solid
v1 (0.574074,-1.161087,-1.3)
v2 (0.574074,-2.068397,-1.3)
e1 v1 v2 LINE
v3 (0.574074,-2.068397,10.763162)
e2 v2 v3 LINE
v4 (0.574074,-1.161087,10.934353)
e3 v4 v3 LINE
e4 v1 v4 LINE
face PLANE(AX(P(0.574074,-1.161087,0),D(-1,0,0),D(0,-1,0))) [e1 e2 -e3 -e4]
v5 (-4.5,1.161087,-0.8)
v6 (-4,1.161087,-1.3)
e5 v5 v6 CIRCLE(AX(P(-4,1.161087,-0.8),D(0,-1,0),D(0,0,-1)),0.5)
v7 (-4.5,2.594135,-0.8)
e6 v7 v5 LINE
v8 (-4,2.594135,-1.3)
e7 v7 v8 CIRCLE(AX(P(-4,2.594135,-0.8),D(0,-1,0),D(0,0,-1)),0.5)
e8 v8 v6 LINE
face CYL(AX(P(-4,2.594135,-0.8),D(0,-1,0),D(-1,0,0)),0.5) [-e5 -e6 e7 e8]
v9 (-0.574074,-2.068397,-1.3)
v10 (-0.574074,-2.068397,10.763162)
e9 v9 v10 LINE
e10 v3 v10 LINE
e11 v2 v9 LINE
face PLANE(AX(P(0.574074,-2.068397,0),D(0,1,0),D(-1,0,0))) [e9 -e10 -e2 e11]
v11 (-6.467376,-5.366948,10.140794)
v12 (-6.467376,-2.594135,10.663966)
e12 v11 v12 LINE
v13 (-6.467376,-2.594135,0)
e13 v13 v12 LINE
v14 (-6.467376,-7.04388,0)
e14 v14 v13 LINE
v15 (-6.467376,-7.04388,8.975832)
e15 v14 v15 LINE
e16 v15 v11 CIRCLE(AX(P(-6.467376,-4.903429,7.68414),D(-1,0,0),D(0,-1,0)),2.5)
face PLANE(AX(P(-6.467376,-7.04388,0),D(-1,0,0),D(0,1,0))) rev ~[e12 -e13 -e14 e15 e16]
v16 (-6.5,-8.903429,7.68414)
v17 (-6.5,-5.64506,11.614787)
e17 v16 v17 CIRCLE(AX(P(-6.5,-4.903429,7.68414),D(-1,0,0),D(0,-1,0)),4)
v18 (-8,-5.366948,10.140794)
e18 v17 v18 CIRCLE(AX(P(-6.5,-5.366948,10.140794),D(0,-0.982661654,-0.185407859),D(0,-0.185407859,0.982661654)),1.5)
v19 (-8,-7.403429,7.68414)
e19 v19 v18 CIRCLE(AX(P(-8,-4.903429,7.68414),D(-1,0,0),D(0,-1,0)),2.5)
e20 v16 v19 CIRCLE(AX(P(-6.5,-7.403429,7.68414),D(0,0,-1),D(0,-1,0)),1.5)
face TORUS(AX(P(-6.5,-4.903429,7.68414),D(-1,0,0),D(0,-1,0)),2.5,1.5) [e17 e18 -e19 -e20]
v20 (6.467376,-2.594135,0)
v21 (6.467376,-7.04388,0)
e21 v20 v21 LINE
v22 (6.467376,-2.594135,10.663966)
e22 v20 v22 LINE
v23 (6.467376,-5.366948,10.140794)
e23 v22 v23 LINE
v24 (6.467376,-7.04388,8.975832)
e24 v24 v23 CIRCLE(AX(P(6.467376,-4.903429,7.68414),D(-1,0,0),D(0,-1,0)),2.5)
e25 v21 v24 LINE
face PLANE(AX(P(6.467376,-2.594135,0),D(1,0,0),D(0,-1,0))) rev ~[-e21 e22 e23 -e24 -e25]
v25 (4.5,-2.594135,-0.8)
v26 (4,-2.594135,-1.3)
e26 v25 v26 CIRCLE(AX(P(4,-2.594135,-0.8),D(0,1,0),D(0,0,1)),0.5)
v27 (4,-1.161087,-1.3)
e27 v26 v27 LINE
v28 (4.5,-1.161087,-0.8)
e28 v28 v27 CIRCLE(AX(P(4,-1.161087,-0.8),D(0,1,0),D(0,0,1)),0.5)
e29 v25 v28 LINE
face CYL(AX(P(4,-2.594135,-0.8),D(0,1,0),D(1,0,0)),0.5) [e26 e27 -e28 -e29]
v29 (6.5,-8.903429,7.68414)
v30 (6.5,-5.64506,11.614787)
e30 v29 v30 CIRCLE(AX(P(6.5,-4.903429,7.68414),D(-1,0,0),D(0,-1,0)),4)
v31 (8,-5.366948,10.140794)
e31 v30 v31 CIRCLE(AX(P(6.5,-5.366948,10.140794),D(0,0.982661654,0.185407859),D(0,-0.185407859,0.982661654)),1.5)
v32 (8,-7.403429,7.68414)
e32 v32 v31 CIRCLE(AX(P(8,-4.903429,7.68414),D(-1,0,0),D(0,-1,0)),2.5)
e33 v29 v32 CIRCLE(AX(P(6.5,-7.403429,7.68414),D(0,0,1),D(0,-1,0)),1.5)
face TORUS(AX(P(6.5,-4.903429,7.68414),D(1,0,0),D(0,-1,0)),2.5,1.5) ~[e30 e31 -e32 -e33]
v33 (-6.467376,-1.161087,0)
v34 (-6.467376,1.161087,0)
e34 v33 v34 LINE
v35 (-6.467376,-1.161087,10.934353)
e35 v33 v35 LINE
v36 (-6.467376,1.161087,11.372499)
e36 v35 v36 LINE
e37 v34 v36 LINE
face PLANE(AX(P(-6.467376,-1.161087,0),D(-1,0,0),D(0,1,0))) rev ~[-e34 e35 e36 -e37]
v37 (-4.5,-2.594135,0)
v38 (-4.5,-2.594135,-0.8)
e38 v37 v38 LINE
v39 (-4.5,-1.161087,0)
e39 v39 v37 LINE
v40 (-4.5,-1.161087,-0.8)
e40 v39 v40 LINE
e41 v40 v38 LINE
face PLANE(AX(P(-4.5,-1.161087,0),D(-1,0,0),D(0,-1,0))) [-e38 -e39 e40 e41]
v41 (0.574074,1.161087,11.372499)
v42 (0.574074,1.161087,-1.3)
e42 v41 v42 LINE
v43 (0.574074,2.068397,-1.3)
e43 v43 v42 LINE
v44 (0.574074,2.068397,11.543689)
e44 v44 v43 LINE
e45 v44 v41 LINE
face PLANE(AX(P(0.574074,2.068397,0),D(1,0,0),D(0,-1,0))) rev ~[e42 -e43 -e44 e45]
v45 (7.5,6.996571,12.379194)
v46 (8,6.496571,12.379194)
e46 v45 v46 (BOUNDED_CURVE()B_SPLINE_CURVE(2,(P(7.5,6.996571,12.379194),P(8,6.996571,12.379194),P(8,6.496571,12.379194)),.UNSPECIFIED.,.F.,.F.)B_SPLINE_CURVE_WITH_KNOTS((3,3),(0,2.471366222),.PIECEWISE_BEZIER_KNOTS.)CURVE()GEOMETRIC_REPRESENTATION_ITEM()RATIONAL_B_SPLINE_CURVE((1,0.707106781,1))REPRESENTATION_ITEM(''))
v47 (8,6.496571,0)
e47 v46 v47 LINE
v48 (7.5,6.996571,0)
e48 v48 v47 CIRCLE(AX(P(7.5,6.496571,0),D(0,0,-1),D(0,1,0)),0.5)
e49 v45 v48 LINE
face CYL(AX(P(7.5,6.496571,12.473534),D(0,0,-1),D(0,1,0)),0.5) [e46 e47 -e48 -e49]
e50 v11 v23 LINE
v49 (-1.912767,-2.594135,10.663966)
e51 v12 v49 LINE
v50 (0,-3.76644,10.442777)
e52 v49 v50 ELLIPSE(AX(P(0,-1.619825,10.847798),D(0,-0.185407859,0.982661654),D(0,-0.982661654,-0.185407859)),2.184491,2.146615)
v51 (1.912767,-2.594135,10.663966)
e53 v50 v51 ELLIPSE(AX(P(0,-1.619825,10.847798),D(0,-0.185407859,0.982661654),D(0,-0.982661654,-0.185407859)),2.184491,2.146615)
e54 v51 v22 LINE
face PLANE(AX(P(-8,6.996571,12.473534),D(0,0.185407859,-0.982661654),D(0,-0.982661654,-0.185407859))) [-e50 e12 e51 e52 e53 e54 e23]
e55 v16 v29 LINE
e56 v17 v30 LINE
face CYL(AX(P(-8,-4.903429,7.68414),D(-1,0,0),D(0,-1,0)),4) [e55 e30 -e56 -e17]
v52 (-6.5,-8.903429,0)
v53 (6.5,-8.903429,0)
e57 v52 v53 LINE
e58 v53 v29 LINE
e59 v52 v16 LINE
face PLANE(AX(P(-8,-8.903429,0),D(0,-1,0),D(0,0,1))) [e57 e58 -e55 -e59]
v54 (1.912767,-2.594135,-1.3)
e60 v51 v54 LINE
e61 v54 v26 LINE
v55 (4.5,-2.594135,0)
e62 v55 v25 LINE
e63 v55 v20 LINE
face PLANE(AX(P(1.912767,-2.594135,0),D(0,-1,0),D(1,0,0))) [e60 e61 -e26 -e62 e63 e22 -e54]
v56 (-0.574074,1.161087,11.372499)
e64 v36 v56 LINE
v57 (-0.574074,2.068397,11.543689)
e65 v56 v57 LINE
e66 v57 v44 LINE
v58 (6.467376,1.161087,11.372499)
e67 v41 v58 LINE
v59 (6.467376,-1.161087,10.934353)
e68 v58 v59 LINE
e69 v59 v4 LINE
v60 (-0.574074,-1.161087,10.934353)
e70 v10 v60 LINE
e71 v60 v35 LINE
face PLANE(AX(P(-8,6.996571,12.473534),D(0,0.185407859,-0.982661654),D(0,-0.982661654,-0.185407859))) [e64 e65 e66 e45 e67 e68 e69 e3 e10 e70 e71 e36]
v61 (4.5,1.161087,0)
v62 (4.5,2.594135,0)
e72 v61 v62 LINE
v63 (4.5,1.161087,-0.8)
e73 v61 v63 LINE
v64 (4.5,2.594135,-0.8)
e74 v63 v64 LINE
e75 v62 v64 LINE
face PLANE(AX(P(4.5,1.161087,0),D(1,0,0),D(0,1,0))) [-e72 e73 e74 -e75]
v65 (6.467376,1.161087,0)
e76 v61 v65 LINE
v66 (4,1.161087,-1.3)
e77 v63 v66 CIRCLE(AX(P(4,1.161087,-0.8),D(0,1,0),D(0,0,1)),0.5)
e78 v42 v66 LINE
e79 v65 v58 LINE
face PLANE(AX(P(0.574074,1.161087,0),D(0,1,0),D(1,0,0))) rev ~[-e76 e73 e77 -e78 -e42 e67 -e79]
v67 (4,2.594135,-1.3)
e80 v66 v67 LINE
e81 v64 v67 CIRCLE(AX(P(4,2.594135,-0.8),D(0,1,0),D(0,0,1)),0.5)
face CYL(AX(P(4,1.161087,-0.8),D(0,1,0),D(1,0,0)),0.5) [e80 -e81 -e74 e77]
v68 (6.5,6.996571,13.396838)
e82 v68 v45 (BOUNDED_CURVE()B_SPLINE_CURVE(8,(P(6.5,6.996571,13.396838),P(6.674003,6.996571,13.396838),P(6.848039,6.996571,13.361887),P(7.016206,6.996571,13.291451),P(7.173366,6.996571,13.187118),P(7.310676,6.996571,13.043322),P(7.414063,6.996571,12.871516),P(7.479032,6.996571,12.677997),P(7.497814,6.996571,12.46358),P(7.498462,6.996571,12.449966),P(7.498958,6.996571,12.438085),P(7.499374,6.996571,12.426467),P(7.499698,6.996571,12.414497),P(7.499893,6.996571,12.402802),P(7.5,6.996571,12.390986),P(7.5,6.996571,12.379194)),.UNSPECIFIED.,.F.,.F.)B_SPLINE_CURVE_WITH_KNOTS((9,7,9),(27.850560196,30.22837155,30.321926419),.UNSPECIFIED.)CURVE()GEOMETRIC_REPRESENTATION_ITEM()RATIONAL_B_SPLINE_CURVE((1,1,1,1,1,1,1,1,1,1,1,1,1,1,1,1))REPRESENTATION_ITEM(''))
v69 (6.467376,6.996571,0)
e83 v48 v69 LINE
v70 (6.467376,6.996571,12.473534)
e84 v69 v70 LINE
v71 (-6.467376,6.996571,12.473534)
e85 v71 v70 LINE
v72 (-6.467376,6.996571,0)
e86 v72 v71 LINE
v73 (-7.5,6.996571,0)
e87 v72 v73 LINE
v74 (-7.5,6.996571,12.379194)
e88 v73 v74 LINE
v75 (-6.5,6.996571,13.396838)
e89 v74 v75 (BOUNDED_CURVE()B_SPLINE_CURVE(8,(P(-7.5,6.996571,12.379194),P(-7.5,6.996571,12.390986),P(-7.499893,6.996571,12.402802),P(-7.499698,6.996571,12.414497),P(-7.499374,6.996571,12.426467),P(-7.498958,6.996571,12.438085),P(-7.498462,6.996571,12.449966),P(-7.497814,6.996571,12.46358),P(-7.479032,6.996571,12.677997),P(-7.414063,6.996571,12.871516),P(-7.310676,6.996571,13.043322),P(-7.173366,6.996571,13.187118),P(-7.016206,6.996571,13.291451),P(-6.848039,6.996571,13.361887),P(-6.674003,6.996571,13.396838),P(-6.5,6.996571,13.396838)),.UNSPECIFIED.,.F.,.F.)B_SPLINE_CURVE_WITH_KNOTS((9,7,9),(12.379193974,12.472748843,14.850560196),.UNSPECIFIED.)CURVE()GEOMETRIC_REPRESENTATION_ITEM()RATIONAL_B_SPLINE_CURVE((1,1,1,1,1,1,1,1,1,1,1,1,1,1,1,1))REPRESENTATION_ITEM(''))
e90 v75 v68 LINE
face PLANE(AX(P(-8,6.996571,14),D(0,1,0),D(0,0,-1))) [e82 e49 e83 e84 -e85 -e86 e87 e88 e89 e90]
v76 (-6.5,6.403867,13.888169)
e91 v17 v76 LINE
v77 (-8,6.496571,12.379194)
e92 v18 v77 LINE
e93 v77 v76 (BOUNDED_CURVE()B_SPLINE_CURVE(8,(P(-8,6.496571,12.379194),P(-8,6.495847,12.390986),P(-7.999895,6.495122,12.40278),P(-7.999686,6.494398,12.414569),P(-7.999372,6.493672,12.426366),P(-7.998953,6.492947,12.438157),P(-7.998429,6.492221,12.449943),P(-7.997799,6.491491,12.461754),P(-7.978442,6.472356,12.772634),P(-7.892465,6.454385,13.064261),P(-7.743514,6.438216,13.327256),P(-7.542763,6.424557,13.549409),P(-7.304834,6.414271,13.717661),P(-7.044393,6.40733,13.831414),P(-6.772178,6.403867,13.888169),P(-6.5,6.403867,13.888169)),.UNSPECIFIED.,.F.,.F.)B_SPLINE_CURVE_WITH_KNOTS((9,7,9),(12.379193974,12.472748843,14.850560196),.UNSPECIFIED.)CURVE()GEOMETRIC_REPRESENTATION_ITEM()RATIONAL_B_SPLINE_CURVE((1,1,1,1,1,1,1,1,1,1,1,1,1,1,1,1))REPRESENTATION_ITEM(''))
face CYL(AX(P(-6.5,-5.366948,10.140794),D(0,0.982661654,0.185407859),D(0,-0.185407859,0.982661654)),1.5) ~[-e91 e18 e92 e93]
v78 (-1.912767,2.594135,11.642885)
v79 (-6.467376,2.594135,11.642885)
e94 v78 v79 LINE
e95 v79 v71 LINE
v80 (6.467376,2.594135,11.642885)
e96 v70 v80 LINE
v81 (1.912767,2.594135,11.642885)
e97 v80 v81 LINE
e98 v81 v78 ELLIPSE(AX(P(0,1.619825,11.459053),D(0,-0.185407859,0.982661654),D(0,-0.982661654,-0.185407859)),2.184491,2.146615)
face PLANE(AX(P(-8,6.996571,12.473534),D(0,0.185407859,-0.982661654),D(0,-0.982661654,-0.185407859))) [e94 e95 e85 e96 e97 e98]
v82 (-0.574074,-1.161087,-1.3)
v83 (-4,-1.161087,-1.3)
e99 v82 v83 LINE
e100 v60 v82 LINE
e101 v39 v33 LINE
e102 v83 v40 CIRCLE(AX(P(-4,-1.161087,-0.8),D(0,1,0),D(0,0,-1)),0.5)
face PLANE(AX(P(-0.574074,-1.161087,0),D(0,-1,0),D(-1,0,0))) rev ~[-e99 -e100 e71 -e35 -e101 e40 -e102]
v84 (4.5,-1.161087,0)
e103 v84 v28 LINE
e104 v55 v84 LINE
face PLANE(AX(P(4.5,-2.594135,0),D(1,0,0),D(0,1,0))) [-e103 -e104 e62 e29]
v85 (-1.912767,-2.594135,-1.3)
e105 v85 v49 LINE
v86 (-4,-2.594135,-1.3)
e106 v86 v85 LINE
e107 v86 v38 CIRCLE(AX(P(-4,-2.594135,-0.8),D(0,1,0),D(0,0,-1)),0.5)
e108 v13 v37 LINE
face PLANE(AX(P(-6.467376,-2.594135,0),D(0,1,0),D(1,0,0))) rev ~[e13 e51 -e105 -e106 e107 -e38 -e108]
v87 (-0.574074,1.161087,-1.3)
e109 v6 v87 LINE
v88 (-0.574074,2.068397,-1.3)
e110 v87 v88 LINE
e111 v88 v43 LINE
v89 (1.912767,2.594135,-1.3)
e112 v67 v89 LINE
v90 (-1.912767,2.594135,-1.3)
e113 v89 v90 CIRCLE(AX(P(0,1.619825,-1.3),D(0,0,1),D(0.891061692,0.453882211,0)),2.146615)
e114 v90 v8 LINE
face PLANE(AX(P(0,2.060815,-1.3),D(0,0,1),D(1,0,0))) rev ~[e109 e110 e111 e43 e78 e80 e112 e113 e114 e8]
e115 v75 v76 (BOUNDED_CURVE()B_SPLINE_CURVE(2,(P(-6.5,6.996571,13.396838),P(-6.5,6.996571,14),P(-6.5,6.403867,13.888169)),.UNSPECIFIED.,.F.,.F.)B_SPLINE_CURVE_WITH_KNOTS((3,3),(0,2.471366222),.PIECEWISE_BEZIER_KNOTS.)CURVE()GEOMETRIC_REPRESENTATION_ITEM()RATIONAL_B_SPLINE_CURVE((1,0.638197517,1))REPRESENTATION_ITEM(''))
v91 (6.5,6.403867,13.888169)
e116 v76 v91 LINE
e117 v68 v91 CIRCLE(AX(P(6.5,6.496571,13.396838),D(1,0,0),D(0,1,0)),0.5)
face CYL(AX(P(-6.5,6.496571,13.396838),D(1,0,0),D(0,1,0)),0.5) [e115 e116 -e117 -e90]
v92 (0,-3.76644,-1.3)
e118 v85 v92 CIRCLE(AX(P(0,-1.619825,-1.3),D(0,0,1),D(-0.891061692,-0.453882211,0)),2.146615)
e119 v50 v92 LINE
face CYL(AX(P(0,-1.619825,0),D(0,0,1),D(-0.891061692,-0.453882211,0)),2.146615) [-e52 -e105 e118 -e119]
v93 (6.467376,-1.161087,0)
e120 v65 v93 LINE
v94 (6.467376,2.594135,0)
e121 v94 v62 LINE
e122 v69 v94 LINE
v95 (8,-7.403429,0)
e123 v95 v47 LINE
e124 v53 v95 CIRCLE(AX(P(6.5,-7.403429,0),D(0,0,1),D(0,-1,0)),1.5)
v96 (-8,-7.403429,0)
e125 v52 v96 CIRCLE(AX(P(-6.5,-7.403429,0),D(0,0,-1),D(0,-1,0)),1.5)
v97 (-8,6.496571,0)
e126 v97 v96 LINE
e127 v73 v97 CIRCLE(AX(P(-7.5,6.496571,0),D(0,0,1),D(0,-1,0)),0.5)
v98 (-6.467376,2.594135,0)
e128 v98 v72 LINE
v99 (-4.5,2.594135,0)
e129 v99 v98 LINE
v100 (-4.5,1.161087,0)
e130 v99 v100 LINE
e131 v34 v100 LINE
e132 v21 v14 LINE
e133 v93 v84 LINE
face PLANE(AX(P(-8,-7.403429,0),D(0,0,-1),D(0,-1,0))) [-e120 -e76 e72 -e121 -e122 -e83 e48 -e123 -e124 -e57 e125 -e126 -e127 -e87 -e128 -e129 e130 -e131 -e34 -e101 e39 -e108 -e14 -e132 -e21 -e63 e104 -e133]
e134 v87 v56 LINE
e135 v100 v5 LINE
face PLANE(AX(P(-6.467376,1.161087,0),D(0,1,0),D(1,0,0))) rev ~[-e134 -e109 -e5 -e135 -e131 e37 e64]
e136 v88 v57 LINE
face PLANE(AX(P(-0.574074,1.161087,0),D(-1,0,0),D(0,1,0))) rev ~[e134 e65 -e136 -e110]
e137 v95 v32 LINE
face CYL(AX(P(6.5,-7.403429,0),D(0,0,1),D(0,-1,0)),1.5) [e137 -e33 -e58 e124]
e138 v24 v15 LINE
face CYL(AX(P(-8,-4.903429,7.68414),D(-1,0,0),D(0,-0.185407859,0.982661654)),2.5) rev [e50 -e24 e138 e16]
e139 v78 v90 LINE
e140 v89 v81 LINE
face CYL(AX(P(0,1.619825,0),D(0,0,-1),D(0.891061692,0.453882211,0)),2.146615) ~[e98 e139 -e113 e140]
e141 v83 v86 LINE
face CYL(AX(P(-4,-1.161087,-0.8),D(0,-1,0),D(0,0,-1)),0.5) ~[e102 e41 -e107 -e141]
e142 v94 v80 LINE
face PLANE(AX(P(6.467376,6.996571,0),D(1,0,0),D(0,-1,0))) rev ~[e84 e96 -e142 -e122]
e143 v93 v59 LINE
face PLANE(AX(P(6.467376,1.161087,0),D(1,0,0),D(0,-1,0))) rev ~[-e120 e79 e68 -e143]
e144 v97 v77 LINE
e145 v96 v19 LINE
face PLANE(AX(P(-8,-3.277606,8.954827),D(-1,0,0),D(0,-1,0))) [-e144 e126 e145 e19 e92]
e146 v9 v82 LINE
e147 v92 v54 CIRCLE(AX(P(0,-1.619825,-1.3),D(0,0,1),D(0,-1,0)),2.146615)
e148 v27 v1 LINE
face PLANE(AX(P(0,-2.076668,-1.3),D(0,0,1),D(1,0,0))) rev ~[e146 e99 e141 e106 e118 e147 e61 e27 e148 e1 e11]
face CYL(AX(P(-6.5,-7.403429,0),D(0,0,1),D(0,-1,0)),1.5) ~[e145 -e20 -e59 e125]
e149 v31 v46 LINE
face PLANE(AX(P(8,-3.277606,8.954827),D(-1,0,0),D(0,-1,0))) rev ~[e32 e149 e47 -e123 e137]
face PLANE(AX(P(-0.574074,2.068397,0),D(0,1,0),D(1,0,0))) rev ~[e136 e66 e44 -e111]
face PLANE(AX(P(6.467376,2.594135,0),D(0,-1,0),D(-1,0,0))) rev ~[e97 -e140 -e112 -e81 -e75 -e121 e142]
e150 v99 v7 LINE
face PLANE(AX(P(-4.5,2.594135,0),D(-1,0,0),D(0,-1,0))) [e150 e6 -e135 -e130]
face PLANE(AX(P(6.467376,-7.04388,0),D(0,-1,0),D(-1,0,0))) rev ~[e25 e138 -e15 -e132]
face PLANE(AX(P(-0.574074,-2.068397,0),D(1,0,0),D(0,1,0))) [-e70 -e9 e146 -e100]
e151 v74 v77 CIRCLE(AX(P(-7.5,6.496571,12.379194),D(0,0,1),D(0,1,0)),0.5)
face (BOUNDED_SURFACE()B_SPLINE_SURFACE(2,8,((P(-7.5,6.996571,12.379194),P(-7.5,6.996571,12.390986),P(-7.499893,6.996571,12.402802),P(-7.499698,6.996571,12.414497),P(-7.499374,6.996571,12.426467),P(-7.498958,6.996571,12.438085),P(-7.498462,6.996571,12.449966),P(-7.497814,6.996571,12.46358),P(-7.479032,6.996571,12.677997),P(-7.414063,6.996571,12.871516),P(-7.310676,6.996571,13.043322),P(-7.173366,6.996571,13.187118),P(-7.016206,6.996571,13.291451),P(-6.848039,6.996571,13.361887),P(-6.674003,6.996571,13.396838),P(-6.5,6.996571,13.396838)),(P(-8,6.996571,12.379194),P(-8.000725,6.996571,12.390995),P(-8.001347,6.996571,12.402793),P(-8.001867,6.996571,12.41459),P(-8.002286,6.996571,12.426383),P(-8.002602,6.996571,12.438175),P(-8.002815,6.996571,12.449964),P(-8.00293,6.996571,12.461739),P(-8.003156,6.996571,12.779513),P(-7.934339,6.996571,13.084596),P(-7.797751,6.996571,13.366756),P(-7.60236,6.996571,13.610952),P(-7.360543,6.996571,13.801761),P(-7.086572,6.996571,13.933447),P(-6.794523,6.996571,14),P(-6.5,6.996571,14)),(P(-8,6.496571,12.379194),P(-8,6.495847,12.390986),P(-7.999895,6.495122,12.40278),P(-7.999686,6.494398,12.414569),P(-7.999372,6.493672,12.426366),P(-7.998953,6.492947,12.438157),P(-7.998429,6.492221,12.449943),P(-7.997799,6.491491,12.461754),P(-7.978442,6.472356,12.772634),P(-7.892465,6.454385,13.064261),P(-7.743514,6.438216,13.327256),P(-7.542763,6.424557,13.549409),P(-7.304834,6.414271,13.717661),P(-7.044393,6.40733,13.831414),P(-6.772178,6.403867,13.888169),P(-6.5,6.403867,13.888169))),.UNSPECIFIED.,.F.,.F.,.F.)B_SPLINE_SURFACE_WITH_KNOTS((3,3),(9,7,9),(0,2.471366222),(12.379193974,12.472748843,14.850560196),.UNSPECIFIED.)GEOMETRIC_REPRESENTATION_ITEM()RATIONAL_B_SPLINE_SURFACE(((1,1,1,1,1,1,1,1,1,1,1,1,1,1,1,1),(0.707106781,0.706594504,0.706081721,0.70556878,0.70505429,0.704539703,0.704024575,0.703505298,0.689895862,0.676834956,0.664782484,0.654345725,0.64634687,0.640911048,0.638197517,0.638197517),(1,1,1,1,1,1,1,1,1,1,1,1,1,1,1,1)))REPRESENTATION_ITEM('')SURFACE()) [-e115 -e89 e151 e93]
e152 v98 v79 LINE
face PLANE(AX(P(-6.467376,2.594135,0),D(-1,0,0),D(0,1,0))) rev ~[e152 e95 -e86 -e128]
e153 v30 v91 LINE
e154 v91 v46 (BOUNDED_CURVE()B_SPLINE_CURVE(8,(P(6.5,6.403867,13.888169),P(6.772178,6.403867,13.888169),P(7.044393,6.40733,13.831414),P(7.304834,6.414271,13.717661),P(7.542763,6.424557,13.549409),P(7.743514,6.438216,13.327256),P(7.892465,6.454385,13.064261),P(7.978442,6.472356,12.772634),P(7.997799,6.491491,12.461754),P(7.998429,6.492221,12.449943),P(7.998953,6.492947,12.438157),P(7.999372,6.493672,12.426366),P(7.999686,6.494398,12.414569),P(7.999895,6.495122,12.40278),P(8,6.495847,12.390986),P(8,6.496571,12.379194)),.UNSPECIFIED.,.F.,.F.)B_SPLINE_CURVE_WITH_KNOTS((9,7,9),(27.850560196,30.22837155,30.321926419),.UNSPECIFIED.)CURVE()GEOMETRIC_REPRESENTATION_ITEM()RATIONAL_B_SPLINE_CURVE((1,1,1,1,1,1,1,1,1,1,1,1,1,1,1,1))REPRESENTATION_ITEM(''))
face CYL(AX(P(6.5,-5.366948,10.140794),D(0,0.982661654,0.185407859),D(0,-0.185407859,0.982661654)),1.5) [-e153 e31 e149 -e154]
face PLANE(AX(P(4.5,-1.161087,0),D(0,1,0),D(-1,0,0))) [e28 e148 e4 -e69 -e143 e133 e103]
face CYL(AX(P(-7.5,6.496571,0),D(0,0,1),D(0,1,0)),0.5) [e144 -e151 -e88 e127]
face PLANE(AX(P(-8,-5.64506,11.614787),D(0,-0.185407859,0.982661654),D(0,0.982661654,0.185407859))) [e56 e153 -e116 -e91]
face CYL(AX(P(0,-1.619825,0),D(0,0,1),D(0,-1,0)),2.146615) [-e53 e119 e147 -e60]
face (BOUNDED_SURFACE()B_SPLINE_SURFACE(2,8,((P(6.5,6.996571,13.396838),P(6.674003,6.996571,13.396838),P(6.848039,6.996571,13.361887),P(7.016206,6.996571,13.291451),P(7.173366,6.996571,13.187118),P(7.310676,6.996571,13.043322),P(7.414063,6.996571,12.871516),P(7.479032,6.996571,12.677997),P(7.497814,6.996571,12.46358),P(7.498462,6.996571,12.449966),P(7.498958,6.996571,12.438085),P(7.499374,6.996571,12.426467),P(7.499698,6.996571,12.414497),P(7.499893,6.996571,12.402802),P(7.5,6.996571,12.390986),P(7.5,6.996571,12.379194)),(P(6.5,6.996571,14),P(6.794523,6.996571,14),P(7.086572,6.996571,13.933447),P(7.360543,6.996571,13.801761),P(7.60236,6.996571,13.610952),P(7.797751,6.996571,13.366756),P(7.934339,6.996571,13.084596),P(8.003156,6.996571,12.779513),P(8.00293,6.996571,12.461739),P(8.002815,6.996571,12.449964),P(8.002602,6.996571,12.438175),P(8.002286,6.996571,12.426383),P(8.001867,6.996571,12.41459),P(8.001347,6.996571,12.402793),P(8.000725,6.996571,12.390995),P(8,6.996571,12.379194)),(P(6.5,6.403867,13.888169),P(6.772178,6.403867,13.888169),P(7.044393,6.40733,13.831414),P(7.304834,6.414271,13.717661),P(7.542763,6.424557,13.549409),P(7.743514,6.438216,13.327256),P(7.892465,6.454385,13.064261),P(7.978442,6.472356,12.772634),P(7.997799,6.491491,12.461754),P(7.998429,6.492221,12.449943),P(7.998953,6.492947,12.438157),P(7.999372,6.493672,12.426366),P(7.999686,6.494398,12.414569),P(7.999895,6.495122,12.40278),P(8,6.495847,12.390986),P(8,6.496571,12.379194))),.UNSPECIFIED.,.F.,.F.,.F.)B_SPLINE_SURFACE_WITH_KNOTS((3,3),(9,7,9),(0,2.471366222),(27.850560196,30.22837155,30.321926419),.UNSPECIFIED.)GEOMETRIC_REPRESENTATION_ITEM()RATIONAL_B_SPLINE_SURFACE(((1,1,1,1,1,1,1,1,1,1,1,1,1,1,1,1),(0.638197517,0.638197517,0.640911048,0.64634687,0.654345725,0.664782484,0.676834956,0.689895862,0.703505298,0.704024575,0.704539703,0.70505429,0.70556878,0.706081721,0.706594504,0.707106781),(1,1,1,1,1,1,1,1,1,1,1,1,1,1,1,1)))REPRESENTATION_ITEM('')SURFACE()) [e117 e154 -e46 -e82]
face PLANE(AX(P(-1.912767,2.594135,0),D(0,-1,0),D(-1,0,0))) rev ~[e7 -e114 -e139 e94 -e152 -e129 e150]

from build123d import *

# Parameters (mm, degrees)
F1_DEPTH = 14
F3_DEPTH = 16
F4_DEPTH = 16
F5_R     = 1.5
F6_DEPTH = 1.3
F7_R     = 0.5


with BuildPart() as f1:
    # F0 (on Top) → F1 (new body)
    with BuildSketch(Plane.XY):
        Polygon((6.4673761603, 1.1610865705), (6.4673761603, -1.1610865705), (4.5, -1.1610865705), (4.5, -2.5941354688), (6.4673761603, -2.5941354688), (6.4673761603, -7.0438799448), (0, -7.0438799448), (-6.4673761603, -7.0438799448), (-6.4673761603, -2.5941354688), (-4.5, -2.5941354688), (-4.5, -1.1610865705), (-6.4673761603, -1.1610865705), (-6.4673761603, 1.1610865705), (-4.5, 1.1610865705), (-4.5, 2.5941354688), (-6.4673761603, 2.5941354688), (-6.4673761603, 6.996571178), (-8, 6.996571178), (-8, -8.903428822), (8, -8.903428822), (8, 6.996571178), (6.4673761603, 6.996571178), (6.4673761603, 2.5941354688), (4.5, 2.5941354688), (4.5, 1.1610865705), align=None)
        with BuildLine():
            Line((0.5740744527, 1.1610865705), (4.5, 1.1610865705))
            Line((4.5, 1.1610865705), (4.5, 2.5941354688))
            Line((4.5, 2.5941354688), (1.9127666601, 2.5941354688))
            ThreePointArc((1.9127666601, 2.5941354688), (0, 3.7664402702), (-1.9127666601, 2.5941354688))
            Line((-1.9127666601, 2.5941354688), (-4.5, 2.5941354688))
            Line((-4.5, 2.5941354688), (-4.5, 1.1610865705))
            Line((-4.5, 1.1610865705), (-0.5740744527, 1.1610865705))
            Line((-0.5740744527, 1.1610865705), (-0.5740744527, 2.0683966577))
            Line((-0.5740744527, 2.0683966577), (0.5740744527, 2.0683966577))
            Line((0.5740744527, 2.0683966577), (0.5740744527, 1.1610865705))
        make_face()
        with BuildLine():
            Line((4.5, -2.5941354688), (4.5, -1.1610865705))
            Line((4.5, -1.1610865705), (0.5740744527, -1.1610865705))
            Line((0.5740744527, -1.1610865705), (0.5740744527, -2.0683966577))
            Line((0.5740744527, -2.0683966577), (-0.5740744527, -2.0683966577))
            Line((-0.5740744527, -2.0683966577), (-0.5740744527, -1.1610865705))
            Line((-0.5740744527, -1.1610865705), (-4.5, -1.1610865705))
            Line((-4.5, -1.1610865705), (-4.5, -2.5941354688))
            Line((-4.5, -2.5941354688), (-1.9127666601, -2.5941354688))
            ThreePointArc((-1.9127666601, -2.5941354688), (-1.1217146299, -3.4500472339), (0, -3.7664402702))
            ThreePointArc((0, -3.7664402702), (1.1217146299, -3.4500472339), (1.9127666601, -2.5941354688))
            Line((1.9127666601, -2.5941354688), (4.5, -2.5941354688))
        make_face()
    extrude(amount=F1_DEPTH)

    # F2 (on face) → F3 (intersect, through all)
    with BuildSketch(Plane(origin=(-8, 0, 0), x_dir=(0, -1, 0), z_dir=(-1, 0, 0))):
        with BuildLine():
            Line((5.36694847, 10.1407940407), (-6.996571178, 12.473533597))
            Line((-6.996571178, 12.473533597), (-6.996571178, 0))
            Line((-6.996571178, 0), (7.403428822, 0))
            Line((7.403428822, 0), (7.403428822, 7.6841399064))
            ThreePointArc((7.403428822, 7.6841399064), (6.8281104996, 9.2796336983), (5.36694847, 10.1407940407))
        make_face()
    extrude(amount=-F3_DEPTH, mode=Mode.INTERSECT)

    # F2 (on face) → F4 (join, through all)
    with BuildSketch(Plane(origin=(-8, 0, 0), x_dir=(0, -1, 0), z_dir=(-1, 0, 0))):
        with BuildLine():
            Line((5.6450602588, 11.6147865214), (-6.996571178, 14))
            Line((-6.996571178, 14), (-6.996571178, 12.473533597))
            Line((-6.996571178, 12.473533597), (5.36694847, 10.1407940407))
            ThreePointArc((5.36694847, 10.1407940407), (6.8281104996, 9.2796336983), (7.403428822, 7.6841399064))
            Line((7.403428822, 7.6841399064), (7.403428822, 0))
            Line((7.403428822, 0), (8.903428822, 0))
            Line((8.903428822, 0), (8.903428822, 7.6841399064))
            ThreePointArc((8.903428822, 7.6841399064), (7.9829195061, 10.2369299734), (5.6450602588, 11.6147865214))
        make_face()
    extrude(amount=-F4_DEPTH)

    # F5
    f5_edges = [f1.edges().sort_by_distance(p)[0] for p in [
        (-8, 0.675755, 12.807393),
        (8, 0.675755, 12.807393),
    ]]
    fillet(f5_edges, radius=F5_R)

    # F0 (on Top) → F6 (join)
    with BuildSketch(Plane.XY):
        with BuildLine():
            Line((4.5, -2.5941354688), (4.5, -1.1610865705))
            Line((4.5, -1.1610865705), (0.5740744527, -1.1610865705))
            Line((0.5740744527, -1.1610865705), (0.5740744527, -2.0683966577))
            Line((0.5740744527, -2.0683966577), (-0.5740744527, -2.0683966577))
            Line((-0.5740744527, -2.0683966577), (-0.5740744527, -1.1610865705))
            Line((-0.5740744527, -1.1610865705), (-4.5, -1.1610865705))
            Line((-4.5, -1.1610865705), (-4.5, -2.5941354688))
            Line((-4.5, -2.5941354688), (-1.9127666601, -2.5941354688))
            ThreePointArc((-1.9127666601, -2.5941354688), (-1.1217146299, -3.4500472339), (0, -3.7664402702))
            ThreePointArc((0, -3.7664402702), (1.1217146299, -3.4500472339), (1.9127666601, -2.5941354688))
            Line((1.9127666601, -2.5941354688), (4.5, -2.5941354688))
        make_face()
        with BuildLine():
            Line((0.5740744527, 1.1610865705), (4.5, 1.1610865705))
            Line((4.5, 1.1610865705), (4.5, 2.5941354688))
            Line((4.5, 2.5941354688), (1.9127666601, 2.5941354688))
            ThreePointArc((1.9127666601, 2.5941354688), (0, 3.7664402702), (-1.9127666601, 2.5941354688))
            Line((-1.9127666601, 2.5941354688), (-4.5, 2.5941354688))
            Line((-4.5, 2.5941354688), (-4.5, 1.1610865705))
            Line((-4.5, 1.1610865705), (-0.5740744527, 1.1610865705))
            Line((-0.5740744527, 1.1610865705), (-0.5740744527, 2.0683966577))
            Line((-0.5740744527, 2.0683966577), (0.5740744527, 2.0683966577))
            Line((0.5740744527, 2.0683966577), (0.5740744527, 1.1610865705))
        make_face()
    extrude(amount=-F6_DEPTH)

    # F7
    f7_edges = [f1.edges().sort_by_distance(p)[0] for p in [
        (-4.5, -1.877611, -1.3),
        (-4.5, 1.877611, -1.3),
        (4.5, -1.877611, -1.3),
        (4.5, 1.877611, -1.3),
        (0, 6.996571, 14),
    ]]
    fillet(f7_edges, radius=F7_R)


solid = f1.part
